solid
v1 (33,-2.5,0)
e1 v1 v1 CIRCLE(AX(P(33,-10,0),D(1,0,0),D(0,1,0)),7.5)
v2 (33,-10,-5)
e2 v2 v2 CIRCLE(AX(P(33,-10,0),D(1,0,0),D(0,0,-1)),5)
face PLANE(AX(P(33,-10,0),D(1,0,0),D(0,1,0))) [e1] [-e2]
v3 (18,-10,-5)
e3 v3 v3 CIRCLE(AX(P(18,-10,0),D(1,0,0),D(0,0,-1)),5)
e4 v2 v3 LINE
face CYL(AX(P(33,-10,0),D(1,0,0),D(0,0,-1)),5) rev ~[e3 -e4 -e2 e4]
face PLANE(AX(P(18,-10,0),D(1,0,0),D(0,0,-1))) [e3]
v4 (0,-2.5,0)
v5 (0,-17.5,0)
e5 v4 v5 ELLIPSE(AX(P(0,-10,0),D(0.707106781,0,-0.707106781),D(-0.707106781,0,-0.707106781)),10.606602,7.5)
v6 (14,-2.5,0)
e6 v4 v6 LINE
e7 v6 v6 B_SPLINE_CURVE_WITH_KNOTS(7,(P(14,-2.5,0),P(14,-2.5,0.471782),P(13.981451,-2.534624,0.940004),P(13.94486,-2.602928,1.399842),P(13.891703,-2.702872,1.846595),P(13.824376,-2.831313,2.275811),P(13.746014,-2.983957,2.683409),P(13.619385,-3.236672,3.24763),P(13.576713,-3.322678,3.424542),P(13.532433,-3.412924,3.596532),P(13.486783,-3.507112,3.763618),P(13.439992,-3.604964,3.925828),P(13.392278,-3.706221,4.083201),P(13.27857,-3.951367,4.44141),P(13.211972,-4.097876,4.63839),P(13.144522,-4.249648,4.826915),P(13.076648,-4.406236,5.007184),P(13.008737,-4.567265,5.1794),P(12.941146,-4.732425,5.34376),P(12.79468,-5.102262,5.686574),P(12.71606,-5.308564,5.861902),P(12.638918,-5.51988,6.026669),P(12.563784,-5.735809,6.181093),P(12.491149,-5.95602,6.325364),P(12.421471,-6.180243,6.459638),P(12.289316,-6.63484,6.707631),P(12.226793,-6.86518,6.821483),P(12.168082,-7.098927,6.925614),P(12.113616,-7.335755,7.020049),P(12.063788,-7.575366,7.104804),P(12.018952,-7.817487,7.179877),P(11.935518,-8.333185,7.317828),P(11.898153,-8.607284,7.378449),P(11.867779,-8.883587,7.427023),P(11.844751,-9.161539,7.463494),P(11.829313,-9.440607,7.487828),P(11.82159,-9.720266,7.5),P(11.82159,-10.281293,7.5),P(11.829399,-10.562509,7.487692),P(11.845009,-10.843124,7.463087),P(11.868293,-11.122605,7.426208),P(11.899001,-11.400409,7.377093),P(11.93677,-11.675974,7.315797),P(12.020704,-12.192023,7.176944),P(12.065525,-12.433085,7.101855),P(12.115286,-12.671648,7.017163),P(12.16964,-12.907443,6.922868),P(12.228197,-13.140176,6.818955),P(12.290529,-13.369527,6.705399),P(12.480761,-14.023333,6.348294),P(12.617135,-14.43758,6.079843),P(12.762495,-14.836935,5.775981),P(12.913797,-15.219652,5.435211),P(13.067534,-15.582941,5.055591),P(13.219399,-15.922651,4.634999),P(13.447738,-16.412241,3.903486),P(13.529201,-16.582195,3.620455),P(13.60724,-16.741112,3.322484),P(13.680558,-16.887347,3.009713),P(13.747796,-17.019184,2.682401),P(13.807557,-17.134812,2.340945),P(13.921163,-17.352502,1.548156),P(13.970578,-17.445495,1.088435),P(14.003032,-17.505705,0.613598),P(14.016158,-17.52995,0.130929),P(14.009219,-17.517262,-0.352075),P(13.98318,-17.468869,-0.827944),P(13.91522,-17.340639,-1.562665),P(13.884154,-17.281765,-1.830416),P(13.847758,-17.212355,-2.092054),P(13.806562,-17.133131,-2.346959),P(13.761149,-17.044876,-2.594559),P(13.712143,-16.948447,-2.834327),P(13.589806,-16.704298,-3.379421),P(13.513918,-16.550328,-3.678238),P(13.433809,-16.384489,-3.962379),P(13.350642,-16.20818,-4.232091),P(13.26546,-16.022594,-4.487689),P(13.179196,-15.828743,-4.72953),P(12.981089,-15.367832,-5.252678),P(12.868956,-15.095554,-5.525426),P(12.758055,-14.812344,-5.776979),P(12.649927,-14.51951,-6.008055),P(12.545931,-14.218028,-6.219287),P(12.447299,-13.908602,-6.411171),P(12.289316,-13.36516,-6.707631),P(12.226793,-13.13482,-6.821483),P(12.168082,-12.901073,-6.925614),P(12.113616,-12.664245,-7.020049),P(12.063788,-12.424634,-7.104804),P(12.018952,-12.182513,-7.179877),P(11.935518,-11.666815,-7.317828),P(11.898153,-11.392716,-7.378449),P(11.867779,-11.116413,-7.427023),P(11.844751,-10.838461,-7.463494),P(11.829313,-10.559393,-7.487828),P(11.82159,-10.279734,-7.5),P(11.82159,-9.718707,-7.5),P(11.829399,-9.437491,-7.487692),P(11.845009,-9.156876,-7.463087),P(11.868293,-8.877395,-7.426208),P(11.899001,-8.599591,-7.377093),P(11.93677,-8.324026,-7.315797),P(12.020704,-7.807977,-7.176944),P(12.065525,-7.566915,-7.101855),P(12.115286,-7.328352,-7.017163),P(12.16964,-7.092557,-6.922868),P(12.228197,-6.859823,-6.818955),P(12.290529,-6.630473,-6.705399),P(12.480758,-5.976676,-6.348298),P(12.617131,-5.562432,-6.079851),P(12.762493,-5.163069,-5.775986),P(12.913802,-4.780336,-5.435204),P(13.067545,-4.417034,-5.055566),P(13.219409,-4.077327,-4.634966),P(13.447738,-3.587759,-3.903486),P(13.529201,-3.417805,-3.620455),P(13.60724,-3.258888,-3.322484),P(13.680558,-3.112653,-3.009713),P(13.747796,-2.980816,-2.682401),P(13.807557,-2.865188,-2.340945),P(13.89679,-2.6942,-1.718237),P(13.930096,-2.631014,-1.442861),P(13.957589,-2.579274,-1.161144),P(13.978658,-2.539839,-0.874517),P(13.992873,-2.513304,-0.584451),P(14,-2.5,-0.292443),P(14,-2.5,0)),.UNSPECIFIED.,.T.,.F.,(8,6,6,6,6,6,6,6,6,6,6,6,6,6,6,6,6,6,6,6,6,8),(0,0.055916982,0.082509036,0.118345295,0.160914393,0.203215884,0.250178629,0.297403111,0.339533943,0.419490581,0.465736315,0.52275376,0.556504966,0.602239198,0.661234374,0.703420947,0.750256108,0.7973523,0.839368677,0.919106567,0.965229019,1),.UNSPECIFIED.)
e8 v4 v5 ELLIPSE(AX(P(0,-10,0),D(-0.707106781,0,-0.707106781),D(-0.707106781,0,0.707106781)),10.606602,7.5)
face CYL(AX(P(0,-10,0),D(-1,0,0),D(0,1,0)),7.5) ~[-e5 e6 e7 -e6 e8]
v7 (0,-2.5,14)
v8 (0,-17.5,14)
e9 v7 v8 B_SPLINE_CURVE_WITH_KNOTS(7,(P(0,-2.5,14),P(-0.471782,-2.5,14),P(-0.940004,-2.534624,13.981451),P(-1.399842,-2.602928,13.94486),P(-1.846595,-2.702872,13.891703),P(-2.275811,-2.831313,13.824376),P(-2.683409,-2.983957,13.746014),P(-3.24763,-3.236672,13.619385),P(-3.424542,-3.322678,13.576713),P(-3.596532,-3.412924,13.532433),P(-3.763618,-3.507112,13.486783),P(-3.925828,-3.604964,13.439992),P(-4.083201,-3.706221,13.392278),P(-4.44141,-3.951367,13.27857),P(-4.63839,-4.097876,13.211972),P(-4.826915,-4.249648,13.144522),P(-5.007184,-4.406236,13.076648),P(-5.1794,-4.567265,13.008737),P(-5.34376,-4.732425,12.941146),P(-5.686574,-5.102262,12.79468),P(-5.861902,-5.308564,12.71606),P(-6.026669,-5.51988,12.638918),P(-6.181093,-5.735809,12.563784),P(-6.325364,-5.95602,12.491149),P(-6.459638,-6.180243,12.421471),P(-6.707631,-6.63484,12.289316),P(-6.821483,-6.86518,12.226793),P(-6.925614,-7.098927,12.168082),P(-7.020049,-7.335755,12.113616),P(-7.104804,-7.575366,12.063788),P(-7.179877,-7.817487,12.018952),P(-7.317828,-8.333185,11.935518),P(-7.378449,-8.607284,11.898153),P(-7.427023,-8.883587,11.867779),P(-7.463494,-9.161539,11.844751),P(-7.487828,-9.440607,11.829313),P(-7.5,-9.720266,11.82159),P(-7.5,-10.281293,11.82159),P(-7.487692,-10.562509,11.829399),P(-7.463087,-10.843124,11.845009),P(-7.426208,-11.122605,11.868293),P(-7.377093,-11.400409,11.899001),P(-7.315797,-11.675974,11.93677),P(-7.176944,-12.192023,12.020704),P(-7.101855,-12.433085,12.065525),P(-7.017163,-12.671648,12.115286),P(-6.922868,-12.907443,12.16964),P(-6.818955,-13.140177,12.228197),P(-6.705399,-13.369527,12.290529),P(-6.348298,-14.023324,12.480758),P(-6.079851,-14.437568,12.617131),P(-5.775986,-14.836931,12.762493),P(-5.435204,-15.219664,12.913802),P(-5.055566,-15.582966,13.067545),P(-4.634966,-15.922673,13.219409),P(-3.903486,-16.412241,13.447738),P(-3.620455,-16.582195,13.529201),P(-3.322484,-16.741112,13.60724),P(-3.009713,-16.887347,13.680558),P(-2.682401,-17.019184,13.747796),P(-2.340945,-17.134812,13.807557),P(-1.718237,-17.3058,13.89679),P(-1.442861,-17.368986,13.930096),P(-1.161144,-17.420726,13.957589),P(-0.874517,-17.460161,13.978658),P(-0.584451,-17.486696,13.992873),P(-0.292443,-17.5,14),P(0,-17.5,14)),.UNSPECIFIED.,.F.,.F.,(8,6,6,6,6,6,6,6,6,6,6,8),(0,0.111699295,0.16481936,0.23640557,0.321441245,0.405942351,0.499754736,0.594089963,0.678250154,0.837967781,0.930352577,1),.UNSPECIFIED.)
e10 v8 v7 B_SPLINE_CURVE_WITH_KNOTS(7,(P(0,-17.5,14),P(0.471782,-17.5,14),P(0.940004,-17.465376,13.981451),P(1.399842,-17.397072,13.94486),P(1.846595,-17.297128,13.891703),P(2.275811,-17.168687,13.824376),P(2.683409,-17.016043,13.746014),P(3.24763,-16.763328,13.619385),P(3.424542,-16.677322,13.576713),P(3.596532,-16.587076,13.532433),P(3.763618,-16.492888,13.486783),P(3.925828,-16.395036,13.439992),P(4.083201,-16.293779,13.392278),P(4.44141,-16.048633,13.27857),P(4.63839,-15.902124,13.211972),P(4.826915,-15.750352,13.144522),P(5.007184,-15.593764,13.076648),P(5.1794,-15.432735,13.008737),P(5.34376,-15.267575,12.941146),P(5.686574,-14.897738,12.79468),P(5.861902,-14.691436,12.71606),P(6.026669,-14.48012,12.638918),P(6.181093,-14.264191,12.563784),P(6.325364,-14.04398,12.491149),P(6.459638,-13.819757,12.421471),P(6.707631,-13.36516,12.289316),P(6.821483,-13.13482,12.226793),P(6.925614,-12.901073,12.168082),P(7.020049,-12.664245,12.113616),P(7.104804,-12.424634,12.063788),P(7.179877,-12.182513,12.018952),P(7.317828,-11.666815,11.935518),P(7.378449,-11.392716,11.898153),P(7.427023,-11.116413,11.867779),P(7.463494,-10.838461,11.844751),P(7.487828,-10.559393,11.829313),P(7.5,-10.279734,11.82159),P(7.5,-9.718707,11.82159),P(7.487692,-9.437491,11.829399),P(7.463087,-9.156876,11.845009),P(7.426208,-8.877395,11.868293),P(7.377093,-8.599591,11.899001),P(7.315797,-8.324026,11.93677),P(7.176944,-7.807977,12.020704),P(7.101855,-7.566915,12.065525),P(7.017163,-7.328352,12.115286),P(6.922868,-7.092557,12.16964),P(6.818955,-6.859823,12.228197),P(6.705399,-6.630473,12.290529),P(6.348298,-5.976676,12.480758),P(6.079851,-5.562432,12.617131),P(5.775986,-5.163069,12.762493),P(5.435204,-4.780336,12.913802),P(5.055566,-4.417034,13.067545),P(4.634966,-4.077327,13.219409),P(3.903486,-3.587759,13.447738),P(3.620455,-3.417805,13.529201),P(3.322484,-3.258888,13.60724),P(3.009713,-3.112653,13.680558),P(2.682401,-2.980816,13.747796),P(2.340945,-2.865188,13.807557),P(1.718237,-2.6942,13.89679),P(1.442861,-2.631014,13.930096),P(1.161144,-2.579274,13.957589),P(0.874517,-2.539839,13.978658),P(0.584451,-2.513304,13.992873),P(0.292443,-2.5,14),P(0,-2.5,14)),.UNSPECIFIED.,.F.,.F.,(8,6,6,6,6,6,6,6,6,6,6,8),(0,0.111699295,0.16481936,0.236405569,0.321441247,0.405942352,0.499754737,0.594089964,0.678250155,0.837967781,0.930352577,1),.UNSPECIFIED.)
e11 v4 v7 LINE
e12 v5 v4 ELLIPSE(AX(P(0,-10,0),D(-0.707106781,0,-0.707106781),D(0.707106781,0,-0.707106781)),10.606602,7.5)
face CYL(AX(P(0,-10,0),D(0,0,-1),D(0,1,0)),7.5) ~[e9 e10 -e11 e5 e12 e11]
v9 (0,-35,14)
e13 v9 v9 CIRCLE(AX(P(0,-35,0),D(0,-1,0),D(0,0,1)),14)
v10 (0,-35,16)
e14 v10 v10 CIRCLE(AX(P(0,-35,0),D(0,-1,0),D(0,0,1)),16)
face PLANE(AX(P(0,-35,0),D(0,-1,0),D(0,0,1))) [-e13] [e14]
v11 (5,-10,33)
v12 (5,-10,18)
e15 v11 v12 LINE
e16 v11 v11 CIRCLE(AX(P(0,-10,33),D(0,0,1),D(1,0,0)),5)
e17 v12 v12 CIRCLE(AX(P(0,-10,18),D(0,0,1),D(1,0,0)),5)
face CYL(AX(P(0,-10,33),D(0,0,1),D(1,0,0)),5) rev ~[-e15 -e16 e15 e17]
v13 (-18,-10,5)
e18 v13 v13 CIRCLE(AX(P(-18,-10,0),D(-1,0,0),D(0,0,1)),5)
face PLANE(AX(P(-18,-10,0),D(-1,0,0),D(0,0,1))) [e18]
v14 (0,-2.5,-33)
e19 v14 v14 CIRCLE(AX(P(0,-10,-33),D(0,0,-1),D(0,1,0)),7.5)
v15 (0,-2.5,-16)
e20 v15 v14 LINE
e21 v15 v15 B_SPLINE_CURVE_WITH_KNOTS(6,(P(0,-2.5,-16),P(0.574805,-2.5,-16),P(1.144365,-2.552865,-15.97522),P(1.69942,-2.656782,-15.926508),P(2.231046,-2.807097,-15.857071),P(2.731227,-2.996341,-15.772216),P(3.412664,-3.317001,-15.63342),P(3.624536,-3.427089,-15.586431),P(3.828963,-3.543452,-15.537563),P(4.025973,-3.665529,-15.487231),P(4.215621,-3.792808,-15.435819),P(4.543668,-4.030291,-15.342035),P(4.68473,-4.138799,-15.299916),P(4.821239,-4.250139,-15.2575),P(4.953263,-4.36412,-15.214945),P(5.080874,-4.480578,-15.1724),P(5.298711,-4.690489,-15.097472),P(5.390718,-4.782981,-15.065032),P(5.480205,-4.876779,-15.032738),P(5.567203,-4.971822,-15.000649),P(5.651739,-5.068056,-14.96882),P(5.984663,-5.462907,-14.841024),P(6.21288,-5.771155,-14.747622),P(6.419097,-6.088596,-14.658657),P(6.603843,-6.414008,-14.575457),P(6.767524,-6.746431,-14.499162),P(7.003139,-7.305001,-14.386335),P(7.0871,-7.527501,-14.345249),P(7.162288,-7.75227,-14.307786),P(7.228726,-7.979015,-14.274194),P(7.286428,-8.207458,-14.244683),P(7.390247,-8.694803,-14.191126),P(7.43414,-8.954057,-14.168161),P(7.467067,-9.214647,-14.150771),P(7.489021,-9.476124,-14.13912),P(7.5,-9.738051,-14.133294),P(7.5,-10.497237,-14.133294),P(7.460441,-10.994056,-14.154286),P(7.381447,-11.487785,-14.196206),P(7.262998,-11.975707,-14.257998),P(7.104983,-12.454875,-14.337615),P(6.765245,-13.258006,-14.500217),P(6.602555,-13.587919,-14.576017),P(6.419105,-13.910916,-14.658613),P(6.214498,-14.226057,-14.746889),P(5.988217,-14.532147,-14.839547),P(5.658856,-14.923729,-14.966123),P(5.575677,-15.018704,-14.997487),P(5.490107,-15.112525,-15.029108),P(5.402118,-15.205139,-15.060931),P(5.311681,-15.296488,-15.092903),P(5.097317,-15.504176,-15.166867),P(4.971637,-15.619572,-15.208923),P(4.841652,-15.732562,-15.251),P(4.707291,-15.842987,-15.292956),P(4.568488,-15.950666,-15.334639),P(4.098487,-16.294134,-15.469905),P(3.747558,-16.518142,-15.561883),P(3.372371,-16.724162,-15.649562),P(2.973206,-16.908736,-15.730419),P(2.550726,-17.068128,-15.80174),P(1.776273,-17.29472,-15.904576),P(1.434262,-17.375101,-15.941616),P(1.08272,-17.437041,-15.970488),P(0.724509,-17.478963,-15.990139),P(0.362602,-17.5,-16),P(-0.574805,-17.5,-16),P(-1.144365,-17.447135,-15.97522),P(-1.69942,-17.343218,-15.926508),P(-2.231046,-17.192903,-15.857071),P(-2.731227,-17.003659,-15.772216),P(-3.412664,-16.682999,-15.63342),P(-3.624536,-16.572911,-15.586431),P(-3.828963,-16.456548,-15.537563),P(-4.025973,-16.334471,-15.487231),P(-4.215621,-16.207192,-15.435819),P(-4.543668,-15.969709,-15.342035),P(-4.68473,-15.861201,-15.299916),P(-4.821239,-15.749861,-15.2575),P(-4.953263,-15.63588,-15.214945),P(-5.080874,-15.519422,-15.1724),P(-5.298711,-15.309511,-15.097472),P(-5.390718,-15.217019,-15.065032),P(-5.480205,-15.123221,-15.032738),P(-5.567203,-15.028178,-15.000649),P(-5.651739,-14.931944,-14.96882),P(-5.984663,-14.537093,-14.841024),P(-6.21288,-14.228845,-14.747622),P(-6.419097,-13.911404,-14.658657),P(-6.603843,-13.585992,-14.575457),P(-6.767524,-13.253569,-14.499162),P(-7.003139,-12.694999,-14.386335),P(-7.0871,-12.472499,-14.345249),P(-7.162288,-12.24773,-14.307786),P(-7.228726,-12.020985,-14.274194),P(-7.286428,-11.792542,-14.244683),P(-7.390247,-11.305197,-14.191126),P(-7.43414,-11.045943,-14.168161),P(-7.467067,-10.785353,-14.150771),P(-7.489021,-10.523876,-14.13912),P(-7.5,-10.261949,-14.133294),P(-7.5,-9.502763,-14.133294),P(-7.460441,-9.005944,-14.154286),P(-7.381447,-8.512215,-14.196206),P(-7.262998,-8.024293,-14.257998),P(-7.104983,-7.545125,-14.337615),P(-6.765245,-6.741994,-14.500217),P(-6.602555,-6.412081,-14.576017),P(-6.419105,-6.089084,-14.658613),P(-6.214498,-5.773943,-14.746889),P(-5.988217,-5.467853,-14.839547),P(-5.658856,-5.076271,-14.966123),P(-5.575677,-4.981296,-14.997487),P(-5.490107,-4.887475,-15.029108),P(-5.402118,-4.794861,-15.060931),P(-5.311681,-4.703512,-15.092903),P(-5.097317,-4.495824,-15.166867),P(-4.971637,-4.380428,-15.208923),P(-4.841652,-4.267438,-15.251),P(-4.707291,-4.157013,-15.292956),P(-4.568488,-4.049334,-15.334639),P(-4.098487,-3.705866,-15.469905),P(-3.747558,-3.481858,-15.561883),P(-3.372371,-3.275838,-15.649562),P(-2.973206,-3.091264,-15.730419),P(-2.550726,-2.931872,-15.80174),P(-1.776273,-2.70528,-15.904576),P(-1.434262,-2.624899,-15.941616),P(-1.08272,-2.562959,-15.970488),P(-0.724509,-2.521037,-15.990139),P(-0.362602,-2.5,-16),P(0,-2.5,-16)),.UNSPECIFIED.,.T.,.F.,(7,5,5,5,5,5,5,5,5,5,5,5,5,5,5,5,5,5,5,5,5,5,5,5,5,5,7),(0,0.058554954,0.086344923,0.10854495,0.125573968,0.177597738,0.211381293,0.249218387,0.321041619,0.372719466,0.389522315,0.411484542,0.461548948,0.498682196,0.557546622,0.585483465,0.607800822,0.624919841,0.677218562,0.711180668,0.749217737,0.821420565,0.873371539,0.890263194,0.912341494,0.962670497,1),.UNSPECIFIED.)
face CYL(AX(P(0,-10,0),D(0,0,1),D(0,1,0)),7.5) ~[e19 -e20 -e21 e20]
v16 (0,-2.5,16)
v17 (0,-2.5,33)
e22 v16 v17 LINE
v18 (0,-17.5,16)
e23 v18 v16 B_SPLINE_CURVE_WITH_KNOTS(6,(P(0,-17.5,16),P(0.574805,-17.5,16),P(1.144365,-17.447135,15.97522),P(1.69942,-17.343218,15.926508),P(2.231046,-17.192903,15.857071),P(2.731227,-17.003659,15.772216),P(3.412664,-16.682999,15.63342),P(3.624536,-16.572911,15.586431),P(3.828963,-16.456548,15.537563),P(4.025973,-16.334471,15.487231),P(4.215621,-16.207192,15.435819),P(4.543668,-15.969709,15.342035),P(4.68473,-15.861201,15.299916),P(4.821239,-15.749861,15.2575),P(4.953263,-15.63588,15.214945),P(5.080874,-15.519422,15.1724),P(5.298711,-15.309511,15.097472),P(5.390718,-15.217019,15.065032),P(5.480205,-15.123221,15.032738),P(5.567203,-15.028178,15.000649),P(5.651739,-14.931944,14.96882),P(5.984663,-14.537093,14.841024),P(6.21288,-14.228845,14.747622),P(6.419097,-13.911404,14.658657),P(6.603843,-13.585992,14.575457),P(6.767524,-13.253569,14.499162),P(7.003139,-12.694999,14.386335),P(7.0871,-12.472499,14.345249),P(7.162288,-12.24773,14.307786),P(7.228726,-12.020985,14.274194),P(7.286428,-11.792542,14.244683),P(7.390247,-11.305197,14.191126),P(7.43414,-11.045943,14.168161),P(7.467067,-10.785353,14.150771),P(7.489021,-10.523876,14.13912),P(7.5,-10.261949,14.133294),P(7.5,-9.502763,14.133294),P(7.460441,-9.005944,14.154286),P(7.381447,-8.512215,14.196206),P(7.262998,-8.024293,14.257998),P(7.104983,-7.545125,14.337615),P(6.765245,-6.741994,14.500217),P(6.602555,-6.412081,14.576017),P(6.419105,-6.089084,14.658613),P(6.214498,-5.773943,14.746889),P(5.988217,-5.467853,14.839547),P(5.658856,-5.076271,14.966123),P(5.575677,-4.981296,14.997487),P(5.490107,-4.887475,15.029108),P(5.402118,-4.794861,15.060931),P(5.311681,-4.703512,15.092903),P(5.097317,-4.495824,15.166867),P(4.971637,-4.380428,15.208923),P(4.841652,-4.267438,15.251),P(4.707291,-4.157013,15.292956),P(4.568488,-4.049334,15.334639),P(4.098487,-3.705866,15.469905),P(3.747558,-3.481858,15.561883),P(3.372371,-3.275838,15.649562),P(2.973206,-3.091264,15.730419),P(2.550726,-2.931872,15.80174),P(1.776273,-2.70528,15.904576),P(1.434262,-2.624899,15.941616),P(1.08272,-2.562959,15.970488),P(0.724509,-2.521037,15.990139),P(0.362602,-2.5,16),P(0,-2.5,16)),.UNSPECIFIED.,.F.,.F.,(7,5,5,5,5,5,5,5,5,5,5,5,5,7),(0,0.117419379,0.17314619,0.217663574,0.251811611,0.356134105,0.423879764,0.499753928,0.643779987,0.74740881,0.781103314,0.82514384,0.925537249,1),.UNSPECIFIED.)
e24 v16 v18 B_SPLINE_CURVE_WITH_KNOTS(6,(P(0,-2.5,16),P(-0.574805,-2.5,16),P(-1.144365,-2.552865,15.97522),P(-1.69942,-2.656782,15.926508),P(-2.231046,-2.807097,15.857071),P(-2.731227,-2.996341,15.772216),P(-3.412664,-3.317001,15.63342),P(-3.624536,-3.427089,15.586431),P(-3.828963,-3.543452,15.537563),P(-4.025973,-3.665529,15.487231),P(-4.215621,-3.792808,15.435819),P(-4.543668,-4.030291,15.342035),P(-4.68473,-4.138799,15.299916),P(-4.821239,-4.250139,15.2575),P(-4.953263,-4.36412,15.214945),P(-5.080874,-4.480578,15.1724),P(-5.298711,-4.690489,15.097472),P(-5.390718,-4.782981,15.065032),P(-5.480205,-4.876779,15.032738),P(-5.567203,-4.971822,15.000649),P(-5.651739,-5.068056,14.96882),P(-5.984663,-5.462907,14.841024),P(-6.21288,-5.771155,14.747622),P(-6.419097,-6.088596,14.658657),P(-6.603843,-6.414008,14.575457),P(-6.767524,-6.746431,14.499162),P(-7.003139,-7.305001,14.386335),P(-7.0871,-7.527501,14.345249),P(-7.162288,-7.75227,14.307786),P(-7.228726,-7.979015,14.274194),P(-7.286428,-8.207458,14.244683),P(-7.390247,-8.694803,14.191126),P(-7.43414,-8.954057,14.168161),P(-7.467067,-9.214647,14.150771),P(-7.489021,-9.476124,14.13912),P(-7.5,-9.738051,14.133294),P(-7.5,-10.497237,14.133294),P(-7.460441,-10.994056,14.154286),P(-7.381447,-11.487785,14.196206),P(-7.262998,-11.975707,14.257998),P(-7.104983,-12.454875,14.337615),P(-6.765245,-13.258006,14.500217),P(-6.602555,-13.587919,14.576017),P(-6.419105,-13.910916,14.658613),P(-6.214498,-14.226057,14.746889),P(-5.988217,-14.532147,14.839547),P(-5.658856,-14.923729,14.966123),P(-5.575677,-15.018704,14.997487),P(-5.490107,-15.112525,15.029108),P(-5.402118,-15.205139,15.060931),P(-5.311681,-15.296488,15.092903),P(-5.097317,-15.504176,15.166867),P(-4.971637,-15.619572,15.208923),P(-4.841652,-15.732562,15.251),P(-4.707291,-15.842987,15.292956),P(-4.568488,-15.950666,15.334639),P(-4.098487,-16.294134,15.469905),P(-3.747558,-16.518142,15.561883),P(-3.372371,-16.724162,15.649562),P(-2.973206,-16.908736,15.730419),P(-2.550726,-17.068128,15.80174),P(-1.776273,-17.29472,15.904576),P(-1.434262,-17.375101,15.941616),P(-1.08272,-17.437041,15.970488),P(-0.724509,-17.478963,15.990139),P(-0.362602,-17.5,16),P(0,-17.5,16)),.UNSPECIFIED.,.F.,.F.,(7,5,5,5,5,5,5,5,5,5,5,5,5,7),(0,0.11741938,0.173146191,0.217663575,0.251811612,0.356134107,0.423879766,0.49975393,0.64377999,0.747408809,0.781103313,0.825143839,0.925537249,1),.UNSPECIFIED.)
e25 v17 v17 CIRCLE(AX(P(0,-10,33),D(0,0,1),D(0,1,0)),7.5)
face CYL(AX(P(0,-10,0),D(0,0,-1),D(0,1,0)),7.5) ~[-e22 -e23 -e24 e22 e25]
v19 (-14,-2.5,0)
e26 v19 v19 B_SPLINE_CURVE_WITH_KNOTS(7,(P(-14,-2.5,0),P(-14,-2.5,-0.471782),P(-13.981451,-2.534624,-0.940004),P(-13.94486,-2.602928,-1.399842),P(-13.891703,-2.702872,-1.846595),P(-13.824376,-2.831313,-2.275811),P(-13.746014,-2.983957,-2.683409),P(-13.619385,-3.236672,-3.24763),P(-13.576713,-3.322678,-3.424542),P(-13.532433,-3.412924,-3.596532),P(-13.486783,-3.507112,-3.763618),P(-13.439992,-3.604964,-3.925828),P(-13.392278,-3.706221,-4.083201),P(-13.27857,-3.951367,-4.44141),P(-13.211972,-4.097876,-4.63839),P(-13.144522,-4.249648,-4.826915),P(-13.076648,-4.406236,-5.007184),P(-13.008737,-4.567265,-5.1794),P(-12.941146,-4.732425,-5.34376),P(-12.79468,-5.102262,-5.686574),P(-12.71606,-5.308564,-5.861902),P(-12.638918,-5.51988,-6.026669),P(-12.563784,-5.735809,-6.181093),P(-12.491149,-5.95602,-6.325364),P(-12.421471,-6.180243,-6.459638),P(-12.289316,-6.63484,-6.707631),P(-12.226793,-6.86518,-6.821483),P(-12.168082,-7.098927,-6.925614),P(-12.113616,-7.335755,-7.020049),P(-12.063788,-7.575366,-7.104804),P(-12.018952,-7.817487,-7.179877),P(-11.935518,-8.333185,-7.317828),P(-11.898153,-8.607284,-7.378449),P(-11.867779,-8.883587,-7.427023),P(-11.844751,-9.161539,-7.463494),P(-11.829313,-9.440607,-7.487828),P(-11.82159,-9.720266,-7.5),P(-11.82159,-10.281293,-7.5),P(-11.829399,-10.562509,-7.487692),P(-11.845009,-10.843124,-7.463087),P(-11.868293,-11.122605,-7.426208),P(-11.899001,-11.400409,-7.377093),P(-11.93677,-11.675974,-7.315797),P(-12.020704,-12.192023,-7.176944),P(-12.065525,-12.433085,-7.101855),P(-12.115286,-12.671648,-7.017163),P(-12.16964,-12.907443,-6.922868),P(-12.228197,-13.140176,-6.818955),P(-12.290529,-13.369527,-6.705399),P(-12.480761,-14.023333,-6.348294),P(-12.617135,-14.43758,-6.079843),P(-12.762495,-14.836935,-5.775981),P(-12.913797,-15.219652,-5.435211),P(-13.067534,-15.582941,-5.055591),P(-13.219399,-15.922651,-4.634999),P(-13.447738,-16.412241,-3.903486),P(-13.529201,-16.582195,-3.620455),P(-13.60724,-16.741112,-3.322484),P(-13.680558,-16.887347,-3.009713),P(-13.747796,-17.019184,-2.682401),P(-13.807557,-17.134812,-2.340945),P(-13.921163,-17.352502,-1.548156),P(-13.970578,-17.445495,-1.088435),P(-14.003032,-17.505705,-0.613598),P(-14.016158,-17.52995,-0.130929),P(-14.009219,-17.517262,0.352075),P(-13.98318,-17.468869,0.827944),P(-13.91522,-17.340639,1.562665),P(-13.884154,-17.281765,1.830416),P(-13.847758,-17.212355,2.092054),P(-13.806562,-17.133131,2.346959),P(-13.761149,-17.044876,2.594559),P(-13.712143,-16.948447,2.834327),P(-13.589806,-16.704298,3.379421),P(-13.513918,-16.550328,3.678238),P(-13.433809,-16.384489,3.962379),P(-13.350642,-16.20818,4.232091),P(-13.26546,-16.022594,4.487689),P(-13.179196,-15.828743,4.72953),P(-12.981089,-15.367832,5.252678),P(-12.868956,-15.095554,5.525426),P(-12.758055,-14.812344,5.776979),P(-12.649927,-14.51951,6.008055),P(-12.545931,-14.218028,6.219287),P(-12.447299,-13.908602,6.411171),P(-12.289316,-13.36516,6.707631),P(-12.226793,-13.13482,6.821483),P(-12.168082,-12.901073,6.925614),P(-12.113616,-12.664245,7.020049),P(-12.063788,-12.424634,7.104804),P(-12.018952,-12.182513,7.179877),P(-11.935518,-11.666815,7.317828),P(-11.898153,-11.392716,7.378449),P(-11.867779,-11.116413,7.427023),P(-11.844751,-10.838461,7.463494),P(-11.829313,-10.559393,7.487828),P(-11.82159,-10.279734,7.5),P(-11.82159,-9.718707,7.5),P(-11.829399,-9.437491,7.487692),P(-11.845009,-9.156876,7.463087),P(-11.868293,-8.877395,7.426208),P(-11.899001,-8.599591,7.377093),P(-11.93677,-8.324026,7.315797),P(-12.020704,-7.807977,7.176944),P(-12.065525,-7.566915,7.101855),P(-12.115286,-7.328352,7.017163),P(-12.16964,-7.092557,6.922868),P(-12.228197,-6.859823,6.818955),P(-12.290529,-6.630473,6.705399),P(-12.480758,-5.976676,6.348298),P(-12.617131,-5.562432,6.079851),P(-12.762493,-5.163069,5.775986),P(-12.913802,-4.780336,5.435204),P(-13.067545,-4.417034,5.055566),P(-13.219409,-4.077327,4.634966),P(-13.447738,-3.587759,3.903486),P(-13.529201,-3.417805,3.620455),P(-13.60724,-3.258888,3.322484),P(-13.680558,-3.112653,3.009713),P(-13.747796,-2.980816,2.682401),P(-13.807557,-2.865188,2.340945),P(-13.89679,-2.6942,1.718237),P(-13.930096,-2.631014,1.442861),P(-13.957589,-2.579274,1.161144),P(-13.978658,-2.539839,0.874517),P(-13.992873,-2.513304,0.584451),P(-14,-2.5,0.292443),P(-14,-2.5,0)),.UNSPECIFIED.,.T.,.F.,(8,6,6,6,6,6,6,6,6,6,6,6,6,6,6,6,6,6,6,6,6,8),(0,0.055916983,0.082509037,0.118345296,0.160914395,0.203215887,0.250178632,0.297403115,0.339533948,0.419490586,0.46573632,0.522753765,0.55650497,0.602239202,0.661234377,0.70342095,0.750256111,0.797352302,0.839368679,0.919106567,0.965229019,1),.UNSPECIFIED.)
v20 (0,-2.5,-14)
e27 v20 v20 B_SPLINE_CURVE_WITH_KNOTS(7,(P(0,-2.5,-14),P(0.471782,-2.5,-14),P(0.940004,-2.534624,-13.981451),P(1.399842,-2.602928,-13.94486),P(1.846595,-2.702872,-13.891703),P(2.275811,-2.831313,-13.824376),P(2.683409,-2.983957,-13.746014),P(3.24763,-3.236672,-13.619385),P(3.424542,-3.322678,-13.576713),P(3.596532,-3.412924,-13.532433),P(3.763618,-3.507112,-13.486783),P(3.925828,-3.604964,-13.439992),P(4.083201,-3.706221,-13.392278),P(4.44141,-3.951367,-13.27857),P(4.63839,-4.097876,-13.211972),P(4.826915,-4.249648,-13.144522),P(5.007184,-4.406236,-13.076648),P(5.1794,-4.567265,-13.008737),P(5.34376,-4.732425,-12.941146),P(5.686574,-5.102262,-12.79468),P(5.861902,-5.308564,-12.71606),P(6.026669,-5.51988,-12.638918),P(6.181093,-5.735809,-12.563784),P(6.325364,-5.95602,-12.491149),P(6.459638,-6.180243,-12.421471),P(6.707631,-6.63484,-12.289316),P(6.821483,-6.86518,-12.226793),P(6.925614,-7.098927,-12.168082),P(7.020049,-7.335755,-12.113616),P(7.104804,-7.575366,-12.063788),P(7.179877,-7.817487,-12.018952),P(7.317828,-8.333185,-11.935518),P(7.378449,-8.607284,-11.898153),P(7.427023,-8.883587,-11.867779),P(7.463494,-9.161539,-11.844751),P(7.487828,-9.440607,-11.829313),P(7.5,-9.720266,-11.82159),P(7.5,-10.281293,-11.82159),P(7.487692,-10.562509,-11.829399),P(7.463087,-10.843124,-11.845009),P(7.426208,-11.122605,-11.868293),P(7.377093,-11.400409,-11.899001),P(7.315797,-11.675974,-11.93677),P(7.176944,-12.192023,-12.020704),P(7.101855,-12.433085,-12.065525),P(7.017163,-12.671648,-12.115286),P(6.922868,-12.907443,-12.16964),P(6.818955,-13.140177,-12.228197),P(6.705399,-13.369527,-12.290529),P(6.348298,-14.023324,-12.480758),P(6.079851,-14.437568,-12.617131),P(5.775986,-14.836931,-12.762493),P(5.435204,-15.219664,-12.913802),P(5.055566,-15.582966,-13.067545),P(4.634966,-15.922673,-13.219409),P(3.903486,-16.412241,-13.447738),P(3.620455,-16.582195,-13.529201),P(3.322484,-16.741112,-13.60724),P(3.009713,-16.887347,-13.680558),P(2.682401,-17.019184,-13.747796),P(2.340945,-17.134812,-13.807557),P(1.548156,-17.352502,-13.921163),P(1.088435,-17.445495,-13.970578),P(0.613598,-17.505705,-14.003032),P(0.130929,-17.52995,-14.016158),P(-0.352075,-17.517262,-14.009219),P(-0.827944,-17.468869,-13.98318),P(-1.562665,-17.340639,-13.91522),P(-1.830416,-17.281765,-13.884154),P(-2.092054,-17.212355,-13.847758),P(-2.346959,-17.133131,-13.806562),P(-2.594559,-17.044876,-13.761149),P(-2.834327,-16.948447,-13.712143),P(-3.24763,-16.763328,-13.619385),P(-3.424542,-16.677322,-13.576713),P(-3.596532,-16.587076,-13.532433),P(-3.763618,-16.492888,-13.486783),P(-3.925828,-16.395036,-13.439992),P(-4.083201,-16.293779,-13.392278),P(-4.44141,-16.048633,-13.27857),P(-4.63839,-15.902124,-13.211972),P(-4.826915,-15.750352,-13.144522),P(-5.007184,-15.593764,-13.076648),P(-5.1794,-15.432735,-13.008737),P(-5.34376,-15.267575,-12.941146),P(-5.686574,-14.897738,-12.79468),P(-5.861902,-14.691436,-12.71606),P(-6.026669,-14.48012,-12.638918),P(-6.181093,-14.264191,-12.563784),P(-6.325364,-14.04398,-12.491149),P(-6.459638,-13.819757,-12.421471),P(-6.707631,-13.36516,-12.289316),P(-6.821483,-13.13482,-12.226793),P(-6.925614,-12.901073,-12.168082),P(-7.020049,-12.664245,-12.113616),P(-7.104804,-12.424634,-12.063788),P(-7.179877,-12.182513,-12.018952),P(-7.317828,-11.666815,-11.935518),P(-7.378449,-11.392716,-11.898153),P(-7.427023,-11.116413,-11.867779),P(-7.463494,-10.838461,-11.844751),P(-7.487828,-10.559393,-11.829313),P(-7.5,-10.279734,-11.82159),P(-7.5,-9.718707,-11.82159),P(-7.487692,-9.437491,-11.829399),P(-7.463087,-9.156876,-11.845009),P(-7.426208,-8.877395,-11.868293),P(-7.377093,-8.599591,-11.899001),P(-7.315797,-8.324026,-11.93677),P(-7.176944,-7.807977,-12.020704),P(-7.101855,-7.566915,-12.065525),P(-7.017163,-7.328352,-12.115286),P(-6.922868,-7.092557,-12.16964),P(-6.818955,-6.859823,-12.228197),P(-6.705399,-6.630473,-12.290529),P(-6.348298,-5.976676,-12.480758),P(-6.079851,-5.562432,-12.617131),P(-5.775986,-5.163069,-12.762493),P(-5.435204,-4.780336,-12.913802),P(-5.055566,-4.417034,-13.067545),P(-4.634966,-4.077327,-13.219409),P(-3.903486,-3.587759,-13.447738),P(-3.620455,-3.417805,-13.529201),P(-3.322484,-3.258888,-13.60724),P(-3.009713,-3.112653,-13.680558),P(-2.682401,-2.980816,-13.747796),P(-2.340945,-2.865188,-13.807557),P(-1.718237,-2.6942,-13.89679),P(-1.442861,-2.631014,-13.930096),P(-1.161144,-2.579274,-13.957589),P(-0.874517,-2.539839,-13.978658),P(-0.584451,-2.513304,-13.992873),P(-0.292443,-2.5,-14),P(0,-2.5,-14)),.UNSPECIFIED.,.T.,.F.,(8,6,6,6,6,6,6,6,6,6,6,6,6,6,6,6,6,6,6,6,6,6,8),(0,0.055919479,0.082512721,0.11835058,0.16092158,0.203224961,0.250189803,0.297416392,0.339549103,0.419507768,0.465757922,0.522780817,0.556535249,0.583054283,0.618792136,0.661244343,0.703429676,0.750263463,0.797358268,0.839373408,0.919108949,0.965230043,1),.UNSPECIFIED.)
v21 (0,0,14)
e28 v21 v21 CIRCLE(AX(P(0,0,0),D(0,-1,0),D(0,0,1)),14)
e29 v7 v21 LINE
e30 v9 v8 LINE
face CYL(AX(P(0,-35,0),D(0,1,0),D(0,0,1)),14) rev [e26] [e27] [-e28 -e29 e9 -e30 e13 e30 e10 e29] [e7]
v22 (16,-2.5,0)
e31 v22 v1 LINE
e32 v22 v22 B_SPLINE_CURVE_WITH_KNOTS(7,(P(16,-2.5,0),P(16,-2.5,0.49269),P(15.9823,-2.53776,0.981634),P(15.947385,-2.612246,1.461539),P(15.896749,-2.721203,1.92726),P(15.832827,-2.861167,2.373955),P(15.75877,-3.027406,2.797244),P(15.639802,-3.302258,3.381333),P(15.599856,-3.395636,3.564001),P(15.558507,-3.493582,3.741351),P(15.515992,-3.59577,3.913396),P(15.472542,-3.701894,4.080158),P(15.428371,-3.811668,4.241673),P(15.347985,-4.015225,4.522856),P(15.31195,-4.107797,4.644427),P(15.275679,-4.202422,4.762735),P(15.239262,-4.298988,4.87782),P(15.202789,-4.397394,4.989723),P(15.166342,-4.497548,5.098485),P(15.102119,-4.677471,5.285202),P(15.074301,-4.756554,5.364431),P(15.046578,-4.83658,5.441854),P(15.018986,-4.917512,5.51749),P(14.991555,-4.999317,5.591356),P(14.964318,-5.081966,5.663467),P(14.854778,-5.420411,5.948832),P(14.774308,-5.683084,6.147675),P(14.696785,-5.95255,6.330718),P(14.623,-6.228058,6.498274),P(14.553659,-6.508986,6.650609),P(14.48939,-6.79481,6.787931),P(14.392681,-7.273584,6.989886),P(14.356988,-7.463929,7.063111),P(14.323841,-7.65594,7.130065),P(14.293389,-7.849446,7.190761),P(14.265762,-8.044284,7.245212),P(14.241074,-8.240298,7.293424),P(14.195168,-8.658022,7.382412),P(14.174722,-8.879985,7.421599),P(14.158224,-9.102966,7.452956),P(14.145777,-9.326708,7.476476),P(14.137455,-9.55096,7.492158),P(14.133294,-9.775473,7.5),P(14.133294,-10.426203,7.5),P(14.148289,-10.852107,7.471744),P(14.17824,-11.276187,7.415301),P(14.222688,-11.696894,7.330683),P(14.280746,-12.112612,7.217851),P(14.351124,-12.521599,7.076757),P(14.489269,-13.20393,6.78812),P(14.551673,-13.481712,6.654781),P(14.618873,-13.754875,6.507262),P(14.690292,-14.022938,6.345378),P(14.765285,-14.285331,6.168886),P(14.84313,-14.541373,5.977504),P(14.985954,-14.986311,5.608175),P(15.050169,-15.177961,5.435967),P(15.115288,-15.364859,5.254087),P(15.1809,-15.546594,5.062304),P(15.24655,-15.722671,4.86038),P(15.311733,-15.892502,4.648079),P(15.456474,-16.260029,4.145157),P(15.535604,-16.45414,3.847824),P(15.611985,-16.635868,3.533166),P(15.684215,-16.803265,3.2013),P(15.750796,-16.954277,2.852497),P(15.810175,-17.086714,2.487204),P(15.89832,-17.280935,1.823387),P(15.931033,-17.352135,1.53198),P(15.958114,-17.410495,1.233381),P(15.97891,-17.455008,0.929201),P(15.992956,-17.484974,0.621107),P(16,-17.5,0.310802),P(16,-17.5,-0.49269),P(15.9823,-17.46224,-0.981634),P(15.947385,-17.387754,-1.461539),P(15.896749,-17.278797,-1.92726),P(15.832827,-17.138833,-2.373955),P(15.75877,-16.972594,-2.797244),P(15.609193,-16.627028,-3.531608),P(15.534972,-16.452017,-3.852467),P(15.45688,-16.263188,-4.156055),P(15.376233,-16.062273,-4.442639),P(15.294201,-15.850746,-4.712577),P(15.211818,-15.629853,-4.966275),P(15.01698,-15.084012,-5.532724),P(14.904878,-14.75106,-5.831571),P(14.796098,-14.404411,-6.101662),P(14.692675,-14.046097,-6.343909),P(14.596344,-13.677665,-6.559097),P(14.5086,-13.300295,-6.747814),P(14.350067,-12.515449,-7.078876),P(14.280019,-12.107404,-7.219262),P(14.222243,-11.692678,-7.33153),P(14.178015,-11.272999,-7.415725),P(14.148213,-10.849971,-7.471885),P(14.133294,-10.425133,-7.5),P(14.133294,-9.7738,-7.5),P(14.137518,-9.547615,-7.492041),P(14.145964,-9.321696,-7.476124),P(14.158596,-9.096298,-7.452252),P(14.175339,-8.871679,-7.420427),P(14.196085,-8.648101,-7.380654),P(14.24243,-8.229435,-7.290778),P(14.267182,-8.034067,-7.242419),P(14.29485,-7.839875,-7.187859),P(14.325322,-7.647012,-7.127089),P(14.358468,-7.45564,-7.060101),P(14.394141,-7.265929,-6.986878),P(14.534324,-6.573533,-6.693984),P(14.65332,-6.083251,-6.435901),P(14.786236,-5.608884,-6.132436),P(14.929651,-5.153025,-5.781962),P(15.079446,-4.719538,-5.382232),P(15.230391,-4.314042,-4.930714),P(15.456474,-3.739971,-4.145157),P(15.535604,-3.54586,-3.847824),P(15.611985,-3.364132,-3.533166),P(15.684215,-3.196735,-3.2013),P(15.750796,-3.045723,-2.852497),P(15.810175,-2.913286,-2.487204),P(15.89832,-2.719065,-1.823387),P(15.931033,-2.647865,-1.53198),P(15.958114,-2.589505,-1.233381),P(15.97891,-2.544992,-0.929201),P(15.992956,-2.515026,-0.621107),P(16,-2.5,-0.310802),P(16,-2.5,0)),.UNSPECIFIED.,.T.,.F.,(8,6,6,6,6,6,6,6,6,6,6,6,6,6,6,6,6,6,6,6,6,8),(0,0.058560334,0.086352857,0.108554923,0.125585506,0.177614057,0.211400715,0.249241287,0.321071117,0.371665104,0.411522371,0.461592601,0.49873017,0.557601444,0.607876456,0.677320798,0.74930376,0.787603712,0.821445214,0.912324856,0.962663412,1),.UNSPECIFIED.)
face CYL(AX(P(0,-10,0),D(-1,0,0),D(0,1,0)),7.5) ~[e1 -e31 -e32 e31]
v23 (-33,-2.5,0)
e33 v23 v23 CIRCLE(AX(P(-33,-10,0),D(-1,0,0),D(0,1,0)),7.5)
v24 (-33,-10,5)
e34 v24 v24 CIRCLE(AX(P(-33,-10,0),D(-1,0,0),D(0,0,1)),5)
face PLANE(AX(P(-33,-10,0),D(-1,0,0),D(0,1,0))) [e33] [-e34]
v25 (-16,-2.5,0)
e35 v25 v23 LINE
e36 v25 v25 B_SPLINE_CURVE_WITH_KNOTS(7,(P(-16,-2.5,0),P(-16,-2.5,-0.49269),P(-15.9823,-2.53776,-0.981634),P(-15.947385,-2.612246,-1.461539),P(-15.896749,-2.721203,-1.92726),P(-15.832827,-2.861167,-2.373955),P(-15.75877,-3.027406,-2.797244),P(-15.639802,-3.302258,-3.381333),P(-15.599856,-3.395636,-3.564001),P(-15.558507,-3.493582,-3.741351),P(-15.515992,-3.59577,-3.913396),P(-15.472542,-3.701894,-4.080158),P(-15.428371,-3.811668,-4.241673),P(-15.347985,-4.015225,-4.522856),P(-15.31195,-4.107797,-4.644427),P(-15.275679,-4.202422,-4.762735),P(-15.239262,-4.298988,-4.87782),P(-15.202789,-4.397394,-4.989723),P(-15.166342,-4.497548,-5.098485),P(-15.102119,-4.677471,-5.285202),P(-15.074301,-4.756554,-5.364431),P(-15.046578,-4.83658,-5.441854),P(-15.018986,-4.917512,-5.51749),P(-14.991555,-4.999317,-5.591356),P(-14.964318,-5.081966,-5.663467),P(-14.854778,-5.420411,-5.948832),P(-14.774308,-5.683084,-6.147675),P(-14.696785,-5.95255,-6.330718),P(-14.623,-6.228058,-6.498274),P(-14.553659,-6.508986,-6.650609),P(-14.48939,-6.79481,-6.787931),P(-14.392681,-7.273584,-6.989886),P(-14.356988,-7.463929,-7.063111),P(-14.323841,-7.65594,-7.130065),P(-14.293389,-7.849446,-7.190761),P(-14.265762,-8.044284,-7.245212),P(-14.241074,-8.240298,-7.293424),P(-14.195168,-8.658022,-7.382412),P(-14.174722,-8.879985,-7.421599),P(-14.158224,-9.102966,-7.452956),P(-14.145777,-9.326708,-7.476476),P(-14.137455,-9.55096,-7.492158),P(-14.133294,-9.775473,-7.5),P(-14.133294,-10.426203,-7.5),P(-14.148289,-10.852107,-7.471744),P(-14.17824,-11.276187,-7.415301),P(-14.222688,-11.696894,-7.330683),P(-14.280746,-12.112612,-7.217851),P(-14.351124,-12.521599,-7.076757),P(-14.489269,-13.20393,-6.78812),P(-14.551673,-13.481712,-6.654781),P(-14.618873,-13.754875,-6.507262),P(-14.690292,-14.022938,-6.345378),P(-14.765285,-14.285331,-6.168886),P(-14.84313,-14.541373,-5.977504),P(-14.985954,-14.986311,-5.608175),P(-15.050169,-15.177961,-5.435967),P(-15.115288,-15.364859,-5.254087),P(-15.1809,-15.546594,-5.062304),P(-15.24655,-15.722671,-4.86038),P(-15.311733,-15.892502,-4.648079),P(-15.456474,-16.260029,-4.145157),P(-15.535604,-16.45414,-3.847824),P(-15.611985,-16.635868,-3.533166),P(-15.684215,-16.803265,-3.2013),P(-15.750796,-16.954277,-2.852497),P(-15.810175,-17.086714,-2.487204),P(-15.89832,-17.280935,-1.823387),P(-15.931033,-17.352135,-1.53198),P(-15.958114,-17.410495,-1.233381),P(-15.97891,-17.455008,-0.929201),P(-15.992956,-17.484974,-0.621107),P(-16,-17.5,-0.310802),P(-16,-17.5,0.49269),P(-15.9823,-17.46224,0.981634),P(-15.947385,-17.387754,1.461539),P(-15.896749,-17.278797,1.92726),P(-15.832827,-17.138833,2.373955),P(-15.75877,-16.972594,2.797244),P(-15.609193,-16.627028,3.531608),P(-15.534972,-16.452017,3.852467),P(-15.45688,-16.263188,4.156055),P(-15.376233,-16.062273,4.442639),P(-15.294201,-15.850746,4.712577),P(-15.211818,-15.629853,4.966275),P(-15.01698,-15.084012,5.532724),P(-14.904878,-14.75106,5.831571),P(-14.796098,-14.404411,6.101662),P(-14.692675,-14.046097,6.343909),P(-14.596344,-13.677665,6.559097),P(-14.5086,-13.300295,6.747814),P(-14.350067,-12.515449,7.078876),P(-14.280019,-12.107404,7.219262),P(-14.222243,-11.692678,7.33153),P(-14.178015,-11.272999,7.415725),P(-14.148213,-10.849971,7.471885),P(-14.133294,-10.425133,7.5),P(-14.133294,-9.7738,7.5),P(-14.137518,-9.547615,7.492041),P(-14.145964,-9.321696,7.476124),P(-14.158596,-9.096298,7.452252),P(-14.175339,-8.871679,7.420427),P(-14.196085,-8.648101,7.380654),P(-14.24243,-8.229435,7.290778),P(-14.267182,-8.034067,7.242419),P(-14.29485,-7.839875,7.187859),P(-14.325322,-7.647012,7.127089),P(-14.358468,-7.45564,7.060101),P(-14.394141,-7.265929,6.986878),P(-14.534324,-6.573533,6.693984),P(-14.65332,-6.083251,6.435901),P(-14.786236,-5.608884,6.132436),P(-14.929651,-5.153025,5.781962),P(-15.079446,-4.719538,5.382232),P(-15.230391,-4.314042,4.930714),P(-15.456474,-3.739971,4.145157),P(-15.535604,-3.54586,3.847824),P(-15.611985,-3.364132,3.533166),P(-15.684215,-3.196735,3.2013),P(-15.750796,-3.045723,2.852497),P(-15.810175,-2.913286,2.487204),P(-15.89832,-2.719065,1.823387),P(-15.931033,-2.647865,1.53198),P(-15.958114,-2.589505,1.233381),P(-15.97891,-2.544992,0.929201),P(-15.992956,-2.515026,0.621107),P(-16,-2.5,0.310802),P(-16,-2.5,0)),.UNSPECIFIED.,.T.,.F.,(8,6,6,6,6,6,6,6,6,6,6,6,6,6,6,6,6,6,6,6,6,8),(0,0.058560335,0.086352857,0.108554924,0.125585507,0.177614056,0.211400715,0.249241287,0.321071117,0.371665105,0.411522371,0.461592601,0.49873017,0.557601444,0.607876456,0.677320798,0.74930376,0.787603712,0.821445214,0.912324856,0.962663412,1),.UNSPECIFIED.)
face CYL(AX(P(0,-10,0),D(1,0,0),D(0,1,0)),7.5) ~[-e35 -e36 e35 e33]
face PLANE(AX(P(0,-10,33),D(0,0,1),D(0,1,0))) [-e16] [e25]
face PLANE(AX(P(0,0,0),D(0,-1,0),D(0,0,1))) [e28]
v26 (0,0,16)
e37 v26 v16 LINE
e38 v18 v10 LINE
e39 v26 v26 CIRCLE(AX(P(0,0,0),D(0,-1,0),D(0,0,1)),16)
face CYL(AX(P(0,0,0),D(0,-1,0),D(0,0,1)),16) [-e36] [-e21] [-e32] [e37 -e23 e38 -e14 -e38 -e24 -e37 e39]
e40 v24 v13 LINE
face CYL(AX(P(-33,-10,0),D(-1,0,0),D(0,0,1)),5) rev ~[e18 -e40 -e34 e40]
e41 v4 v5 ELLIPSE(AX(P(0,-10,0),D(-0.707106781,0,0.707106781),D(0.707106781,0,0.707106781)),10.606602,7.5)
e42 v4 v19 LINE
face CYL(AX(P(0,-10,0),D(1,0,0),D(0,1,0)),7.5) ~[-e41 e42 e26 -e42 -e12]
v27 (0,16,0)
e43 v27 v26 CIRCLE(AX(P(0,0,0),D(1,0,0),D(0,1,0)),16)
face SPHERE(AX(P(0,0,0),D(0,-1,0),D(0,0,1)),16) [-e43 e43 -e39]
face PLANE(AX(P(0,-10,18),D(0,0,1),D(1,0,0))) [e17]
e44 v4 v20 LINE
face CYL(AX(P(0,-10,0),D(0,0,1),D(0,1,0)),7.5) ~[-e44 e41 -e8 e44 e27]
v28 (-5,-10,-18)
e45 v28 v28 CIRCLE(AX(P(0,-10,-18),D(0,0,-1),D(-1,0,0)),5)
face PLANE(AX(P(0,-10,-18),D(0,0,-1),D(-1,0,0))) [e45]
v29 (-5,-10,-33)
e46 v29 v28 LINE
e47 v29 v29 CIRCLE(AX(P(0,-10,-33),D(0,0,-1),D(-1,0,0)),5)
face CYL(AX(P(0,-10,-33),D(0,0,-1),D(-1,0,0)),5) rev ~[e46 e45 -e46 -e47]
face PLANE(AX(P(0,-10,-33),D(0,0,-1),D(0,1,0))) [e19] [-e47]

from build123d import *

# Parameters (mm, degrees)
SKETCH_3_R               = 7.5
EXTRUDE_2_DEPTH          = 33
SKETCH_4_R               = 5
CUT_EXTRUDE_1_DEPTH      = 15
PATTERN_CIRCULAR_2_COUNT = 4


with BuildPart() as part:
    # 草图2 → 旋转2 (revolve)
    with BuildSketch(Plane.XY, mode=Mode.PRIVATE) as revolve_2_sk:
        with BuildLine():
            Line((-16, 0), (-16, -35))
            Line((-16, -35), (-14, -35))
            Line((-14, -35), (-14, 0))
            Line((-14, 0), (0, 0))
            Line((0, 0), (0, 16))
            ThreePointArc((0, 16), (-11.313708499, 11.313708499), (-16, 0))
        make_face()
    revolve(revolve_2_sk.sketch.rotate(Axis((0, 0, 0), (0, -1, 0)), 270), axis=Axis((0, 0, 0), (0, -1, 0)))

    # 草图3 → 凸台-拉伸2 (add)
    with BuildSketch(Plane.XY):
        with Locations(Location((0, -10, 0), (0, 0, 90.000000001))):
            Circle(SKETCH_3_R)
    extrude_2 = extrude(amount=EXTRUDE_2_DEPTH)

    # 草图4 → 切除-拉伸1 (cut)
    with BuildSketch(Plane.XY.offset(33)):
        with Locations((0, -10)):
            Circle(SKETCH_4_R)
    cut_extrude_1 = extrude(amount=-CUT_EXTRUDE_1_DEPTH, mode=Mode.SUBTRACT)

    # 阵列(圆周)2: 凸台-拉伸2, 切除-拉伸1 ×4 about axis
    pattern_circular_2_axis = Axis((0, 0, 0), (0, 1, 0))
    add([extrude_2.rotate(pattern_circular_2_axis, i * 360 / PATTERN_CIRCULAR_2_COUNT) for i in range(1, PATTERN_CIRCULAR_2_COUNT)])
    add([cut_extrude_1.rotate(pattern_circular_2_axis, i * 360 / PATTERN_CIRCULAR_2_COUNT) for i in range(1, PATTERN_CIRCULAR_2_COUNT)], mode=Mode.SUBTRACT)


solid = part.part
